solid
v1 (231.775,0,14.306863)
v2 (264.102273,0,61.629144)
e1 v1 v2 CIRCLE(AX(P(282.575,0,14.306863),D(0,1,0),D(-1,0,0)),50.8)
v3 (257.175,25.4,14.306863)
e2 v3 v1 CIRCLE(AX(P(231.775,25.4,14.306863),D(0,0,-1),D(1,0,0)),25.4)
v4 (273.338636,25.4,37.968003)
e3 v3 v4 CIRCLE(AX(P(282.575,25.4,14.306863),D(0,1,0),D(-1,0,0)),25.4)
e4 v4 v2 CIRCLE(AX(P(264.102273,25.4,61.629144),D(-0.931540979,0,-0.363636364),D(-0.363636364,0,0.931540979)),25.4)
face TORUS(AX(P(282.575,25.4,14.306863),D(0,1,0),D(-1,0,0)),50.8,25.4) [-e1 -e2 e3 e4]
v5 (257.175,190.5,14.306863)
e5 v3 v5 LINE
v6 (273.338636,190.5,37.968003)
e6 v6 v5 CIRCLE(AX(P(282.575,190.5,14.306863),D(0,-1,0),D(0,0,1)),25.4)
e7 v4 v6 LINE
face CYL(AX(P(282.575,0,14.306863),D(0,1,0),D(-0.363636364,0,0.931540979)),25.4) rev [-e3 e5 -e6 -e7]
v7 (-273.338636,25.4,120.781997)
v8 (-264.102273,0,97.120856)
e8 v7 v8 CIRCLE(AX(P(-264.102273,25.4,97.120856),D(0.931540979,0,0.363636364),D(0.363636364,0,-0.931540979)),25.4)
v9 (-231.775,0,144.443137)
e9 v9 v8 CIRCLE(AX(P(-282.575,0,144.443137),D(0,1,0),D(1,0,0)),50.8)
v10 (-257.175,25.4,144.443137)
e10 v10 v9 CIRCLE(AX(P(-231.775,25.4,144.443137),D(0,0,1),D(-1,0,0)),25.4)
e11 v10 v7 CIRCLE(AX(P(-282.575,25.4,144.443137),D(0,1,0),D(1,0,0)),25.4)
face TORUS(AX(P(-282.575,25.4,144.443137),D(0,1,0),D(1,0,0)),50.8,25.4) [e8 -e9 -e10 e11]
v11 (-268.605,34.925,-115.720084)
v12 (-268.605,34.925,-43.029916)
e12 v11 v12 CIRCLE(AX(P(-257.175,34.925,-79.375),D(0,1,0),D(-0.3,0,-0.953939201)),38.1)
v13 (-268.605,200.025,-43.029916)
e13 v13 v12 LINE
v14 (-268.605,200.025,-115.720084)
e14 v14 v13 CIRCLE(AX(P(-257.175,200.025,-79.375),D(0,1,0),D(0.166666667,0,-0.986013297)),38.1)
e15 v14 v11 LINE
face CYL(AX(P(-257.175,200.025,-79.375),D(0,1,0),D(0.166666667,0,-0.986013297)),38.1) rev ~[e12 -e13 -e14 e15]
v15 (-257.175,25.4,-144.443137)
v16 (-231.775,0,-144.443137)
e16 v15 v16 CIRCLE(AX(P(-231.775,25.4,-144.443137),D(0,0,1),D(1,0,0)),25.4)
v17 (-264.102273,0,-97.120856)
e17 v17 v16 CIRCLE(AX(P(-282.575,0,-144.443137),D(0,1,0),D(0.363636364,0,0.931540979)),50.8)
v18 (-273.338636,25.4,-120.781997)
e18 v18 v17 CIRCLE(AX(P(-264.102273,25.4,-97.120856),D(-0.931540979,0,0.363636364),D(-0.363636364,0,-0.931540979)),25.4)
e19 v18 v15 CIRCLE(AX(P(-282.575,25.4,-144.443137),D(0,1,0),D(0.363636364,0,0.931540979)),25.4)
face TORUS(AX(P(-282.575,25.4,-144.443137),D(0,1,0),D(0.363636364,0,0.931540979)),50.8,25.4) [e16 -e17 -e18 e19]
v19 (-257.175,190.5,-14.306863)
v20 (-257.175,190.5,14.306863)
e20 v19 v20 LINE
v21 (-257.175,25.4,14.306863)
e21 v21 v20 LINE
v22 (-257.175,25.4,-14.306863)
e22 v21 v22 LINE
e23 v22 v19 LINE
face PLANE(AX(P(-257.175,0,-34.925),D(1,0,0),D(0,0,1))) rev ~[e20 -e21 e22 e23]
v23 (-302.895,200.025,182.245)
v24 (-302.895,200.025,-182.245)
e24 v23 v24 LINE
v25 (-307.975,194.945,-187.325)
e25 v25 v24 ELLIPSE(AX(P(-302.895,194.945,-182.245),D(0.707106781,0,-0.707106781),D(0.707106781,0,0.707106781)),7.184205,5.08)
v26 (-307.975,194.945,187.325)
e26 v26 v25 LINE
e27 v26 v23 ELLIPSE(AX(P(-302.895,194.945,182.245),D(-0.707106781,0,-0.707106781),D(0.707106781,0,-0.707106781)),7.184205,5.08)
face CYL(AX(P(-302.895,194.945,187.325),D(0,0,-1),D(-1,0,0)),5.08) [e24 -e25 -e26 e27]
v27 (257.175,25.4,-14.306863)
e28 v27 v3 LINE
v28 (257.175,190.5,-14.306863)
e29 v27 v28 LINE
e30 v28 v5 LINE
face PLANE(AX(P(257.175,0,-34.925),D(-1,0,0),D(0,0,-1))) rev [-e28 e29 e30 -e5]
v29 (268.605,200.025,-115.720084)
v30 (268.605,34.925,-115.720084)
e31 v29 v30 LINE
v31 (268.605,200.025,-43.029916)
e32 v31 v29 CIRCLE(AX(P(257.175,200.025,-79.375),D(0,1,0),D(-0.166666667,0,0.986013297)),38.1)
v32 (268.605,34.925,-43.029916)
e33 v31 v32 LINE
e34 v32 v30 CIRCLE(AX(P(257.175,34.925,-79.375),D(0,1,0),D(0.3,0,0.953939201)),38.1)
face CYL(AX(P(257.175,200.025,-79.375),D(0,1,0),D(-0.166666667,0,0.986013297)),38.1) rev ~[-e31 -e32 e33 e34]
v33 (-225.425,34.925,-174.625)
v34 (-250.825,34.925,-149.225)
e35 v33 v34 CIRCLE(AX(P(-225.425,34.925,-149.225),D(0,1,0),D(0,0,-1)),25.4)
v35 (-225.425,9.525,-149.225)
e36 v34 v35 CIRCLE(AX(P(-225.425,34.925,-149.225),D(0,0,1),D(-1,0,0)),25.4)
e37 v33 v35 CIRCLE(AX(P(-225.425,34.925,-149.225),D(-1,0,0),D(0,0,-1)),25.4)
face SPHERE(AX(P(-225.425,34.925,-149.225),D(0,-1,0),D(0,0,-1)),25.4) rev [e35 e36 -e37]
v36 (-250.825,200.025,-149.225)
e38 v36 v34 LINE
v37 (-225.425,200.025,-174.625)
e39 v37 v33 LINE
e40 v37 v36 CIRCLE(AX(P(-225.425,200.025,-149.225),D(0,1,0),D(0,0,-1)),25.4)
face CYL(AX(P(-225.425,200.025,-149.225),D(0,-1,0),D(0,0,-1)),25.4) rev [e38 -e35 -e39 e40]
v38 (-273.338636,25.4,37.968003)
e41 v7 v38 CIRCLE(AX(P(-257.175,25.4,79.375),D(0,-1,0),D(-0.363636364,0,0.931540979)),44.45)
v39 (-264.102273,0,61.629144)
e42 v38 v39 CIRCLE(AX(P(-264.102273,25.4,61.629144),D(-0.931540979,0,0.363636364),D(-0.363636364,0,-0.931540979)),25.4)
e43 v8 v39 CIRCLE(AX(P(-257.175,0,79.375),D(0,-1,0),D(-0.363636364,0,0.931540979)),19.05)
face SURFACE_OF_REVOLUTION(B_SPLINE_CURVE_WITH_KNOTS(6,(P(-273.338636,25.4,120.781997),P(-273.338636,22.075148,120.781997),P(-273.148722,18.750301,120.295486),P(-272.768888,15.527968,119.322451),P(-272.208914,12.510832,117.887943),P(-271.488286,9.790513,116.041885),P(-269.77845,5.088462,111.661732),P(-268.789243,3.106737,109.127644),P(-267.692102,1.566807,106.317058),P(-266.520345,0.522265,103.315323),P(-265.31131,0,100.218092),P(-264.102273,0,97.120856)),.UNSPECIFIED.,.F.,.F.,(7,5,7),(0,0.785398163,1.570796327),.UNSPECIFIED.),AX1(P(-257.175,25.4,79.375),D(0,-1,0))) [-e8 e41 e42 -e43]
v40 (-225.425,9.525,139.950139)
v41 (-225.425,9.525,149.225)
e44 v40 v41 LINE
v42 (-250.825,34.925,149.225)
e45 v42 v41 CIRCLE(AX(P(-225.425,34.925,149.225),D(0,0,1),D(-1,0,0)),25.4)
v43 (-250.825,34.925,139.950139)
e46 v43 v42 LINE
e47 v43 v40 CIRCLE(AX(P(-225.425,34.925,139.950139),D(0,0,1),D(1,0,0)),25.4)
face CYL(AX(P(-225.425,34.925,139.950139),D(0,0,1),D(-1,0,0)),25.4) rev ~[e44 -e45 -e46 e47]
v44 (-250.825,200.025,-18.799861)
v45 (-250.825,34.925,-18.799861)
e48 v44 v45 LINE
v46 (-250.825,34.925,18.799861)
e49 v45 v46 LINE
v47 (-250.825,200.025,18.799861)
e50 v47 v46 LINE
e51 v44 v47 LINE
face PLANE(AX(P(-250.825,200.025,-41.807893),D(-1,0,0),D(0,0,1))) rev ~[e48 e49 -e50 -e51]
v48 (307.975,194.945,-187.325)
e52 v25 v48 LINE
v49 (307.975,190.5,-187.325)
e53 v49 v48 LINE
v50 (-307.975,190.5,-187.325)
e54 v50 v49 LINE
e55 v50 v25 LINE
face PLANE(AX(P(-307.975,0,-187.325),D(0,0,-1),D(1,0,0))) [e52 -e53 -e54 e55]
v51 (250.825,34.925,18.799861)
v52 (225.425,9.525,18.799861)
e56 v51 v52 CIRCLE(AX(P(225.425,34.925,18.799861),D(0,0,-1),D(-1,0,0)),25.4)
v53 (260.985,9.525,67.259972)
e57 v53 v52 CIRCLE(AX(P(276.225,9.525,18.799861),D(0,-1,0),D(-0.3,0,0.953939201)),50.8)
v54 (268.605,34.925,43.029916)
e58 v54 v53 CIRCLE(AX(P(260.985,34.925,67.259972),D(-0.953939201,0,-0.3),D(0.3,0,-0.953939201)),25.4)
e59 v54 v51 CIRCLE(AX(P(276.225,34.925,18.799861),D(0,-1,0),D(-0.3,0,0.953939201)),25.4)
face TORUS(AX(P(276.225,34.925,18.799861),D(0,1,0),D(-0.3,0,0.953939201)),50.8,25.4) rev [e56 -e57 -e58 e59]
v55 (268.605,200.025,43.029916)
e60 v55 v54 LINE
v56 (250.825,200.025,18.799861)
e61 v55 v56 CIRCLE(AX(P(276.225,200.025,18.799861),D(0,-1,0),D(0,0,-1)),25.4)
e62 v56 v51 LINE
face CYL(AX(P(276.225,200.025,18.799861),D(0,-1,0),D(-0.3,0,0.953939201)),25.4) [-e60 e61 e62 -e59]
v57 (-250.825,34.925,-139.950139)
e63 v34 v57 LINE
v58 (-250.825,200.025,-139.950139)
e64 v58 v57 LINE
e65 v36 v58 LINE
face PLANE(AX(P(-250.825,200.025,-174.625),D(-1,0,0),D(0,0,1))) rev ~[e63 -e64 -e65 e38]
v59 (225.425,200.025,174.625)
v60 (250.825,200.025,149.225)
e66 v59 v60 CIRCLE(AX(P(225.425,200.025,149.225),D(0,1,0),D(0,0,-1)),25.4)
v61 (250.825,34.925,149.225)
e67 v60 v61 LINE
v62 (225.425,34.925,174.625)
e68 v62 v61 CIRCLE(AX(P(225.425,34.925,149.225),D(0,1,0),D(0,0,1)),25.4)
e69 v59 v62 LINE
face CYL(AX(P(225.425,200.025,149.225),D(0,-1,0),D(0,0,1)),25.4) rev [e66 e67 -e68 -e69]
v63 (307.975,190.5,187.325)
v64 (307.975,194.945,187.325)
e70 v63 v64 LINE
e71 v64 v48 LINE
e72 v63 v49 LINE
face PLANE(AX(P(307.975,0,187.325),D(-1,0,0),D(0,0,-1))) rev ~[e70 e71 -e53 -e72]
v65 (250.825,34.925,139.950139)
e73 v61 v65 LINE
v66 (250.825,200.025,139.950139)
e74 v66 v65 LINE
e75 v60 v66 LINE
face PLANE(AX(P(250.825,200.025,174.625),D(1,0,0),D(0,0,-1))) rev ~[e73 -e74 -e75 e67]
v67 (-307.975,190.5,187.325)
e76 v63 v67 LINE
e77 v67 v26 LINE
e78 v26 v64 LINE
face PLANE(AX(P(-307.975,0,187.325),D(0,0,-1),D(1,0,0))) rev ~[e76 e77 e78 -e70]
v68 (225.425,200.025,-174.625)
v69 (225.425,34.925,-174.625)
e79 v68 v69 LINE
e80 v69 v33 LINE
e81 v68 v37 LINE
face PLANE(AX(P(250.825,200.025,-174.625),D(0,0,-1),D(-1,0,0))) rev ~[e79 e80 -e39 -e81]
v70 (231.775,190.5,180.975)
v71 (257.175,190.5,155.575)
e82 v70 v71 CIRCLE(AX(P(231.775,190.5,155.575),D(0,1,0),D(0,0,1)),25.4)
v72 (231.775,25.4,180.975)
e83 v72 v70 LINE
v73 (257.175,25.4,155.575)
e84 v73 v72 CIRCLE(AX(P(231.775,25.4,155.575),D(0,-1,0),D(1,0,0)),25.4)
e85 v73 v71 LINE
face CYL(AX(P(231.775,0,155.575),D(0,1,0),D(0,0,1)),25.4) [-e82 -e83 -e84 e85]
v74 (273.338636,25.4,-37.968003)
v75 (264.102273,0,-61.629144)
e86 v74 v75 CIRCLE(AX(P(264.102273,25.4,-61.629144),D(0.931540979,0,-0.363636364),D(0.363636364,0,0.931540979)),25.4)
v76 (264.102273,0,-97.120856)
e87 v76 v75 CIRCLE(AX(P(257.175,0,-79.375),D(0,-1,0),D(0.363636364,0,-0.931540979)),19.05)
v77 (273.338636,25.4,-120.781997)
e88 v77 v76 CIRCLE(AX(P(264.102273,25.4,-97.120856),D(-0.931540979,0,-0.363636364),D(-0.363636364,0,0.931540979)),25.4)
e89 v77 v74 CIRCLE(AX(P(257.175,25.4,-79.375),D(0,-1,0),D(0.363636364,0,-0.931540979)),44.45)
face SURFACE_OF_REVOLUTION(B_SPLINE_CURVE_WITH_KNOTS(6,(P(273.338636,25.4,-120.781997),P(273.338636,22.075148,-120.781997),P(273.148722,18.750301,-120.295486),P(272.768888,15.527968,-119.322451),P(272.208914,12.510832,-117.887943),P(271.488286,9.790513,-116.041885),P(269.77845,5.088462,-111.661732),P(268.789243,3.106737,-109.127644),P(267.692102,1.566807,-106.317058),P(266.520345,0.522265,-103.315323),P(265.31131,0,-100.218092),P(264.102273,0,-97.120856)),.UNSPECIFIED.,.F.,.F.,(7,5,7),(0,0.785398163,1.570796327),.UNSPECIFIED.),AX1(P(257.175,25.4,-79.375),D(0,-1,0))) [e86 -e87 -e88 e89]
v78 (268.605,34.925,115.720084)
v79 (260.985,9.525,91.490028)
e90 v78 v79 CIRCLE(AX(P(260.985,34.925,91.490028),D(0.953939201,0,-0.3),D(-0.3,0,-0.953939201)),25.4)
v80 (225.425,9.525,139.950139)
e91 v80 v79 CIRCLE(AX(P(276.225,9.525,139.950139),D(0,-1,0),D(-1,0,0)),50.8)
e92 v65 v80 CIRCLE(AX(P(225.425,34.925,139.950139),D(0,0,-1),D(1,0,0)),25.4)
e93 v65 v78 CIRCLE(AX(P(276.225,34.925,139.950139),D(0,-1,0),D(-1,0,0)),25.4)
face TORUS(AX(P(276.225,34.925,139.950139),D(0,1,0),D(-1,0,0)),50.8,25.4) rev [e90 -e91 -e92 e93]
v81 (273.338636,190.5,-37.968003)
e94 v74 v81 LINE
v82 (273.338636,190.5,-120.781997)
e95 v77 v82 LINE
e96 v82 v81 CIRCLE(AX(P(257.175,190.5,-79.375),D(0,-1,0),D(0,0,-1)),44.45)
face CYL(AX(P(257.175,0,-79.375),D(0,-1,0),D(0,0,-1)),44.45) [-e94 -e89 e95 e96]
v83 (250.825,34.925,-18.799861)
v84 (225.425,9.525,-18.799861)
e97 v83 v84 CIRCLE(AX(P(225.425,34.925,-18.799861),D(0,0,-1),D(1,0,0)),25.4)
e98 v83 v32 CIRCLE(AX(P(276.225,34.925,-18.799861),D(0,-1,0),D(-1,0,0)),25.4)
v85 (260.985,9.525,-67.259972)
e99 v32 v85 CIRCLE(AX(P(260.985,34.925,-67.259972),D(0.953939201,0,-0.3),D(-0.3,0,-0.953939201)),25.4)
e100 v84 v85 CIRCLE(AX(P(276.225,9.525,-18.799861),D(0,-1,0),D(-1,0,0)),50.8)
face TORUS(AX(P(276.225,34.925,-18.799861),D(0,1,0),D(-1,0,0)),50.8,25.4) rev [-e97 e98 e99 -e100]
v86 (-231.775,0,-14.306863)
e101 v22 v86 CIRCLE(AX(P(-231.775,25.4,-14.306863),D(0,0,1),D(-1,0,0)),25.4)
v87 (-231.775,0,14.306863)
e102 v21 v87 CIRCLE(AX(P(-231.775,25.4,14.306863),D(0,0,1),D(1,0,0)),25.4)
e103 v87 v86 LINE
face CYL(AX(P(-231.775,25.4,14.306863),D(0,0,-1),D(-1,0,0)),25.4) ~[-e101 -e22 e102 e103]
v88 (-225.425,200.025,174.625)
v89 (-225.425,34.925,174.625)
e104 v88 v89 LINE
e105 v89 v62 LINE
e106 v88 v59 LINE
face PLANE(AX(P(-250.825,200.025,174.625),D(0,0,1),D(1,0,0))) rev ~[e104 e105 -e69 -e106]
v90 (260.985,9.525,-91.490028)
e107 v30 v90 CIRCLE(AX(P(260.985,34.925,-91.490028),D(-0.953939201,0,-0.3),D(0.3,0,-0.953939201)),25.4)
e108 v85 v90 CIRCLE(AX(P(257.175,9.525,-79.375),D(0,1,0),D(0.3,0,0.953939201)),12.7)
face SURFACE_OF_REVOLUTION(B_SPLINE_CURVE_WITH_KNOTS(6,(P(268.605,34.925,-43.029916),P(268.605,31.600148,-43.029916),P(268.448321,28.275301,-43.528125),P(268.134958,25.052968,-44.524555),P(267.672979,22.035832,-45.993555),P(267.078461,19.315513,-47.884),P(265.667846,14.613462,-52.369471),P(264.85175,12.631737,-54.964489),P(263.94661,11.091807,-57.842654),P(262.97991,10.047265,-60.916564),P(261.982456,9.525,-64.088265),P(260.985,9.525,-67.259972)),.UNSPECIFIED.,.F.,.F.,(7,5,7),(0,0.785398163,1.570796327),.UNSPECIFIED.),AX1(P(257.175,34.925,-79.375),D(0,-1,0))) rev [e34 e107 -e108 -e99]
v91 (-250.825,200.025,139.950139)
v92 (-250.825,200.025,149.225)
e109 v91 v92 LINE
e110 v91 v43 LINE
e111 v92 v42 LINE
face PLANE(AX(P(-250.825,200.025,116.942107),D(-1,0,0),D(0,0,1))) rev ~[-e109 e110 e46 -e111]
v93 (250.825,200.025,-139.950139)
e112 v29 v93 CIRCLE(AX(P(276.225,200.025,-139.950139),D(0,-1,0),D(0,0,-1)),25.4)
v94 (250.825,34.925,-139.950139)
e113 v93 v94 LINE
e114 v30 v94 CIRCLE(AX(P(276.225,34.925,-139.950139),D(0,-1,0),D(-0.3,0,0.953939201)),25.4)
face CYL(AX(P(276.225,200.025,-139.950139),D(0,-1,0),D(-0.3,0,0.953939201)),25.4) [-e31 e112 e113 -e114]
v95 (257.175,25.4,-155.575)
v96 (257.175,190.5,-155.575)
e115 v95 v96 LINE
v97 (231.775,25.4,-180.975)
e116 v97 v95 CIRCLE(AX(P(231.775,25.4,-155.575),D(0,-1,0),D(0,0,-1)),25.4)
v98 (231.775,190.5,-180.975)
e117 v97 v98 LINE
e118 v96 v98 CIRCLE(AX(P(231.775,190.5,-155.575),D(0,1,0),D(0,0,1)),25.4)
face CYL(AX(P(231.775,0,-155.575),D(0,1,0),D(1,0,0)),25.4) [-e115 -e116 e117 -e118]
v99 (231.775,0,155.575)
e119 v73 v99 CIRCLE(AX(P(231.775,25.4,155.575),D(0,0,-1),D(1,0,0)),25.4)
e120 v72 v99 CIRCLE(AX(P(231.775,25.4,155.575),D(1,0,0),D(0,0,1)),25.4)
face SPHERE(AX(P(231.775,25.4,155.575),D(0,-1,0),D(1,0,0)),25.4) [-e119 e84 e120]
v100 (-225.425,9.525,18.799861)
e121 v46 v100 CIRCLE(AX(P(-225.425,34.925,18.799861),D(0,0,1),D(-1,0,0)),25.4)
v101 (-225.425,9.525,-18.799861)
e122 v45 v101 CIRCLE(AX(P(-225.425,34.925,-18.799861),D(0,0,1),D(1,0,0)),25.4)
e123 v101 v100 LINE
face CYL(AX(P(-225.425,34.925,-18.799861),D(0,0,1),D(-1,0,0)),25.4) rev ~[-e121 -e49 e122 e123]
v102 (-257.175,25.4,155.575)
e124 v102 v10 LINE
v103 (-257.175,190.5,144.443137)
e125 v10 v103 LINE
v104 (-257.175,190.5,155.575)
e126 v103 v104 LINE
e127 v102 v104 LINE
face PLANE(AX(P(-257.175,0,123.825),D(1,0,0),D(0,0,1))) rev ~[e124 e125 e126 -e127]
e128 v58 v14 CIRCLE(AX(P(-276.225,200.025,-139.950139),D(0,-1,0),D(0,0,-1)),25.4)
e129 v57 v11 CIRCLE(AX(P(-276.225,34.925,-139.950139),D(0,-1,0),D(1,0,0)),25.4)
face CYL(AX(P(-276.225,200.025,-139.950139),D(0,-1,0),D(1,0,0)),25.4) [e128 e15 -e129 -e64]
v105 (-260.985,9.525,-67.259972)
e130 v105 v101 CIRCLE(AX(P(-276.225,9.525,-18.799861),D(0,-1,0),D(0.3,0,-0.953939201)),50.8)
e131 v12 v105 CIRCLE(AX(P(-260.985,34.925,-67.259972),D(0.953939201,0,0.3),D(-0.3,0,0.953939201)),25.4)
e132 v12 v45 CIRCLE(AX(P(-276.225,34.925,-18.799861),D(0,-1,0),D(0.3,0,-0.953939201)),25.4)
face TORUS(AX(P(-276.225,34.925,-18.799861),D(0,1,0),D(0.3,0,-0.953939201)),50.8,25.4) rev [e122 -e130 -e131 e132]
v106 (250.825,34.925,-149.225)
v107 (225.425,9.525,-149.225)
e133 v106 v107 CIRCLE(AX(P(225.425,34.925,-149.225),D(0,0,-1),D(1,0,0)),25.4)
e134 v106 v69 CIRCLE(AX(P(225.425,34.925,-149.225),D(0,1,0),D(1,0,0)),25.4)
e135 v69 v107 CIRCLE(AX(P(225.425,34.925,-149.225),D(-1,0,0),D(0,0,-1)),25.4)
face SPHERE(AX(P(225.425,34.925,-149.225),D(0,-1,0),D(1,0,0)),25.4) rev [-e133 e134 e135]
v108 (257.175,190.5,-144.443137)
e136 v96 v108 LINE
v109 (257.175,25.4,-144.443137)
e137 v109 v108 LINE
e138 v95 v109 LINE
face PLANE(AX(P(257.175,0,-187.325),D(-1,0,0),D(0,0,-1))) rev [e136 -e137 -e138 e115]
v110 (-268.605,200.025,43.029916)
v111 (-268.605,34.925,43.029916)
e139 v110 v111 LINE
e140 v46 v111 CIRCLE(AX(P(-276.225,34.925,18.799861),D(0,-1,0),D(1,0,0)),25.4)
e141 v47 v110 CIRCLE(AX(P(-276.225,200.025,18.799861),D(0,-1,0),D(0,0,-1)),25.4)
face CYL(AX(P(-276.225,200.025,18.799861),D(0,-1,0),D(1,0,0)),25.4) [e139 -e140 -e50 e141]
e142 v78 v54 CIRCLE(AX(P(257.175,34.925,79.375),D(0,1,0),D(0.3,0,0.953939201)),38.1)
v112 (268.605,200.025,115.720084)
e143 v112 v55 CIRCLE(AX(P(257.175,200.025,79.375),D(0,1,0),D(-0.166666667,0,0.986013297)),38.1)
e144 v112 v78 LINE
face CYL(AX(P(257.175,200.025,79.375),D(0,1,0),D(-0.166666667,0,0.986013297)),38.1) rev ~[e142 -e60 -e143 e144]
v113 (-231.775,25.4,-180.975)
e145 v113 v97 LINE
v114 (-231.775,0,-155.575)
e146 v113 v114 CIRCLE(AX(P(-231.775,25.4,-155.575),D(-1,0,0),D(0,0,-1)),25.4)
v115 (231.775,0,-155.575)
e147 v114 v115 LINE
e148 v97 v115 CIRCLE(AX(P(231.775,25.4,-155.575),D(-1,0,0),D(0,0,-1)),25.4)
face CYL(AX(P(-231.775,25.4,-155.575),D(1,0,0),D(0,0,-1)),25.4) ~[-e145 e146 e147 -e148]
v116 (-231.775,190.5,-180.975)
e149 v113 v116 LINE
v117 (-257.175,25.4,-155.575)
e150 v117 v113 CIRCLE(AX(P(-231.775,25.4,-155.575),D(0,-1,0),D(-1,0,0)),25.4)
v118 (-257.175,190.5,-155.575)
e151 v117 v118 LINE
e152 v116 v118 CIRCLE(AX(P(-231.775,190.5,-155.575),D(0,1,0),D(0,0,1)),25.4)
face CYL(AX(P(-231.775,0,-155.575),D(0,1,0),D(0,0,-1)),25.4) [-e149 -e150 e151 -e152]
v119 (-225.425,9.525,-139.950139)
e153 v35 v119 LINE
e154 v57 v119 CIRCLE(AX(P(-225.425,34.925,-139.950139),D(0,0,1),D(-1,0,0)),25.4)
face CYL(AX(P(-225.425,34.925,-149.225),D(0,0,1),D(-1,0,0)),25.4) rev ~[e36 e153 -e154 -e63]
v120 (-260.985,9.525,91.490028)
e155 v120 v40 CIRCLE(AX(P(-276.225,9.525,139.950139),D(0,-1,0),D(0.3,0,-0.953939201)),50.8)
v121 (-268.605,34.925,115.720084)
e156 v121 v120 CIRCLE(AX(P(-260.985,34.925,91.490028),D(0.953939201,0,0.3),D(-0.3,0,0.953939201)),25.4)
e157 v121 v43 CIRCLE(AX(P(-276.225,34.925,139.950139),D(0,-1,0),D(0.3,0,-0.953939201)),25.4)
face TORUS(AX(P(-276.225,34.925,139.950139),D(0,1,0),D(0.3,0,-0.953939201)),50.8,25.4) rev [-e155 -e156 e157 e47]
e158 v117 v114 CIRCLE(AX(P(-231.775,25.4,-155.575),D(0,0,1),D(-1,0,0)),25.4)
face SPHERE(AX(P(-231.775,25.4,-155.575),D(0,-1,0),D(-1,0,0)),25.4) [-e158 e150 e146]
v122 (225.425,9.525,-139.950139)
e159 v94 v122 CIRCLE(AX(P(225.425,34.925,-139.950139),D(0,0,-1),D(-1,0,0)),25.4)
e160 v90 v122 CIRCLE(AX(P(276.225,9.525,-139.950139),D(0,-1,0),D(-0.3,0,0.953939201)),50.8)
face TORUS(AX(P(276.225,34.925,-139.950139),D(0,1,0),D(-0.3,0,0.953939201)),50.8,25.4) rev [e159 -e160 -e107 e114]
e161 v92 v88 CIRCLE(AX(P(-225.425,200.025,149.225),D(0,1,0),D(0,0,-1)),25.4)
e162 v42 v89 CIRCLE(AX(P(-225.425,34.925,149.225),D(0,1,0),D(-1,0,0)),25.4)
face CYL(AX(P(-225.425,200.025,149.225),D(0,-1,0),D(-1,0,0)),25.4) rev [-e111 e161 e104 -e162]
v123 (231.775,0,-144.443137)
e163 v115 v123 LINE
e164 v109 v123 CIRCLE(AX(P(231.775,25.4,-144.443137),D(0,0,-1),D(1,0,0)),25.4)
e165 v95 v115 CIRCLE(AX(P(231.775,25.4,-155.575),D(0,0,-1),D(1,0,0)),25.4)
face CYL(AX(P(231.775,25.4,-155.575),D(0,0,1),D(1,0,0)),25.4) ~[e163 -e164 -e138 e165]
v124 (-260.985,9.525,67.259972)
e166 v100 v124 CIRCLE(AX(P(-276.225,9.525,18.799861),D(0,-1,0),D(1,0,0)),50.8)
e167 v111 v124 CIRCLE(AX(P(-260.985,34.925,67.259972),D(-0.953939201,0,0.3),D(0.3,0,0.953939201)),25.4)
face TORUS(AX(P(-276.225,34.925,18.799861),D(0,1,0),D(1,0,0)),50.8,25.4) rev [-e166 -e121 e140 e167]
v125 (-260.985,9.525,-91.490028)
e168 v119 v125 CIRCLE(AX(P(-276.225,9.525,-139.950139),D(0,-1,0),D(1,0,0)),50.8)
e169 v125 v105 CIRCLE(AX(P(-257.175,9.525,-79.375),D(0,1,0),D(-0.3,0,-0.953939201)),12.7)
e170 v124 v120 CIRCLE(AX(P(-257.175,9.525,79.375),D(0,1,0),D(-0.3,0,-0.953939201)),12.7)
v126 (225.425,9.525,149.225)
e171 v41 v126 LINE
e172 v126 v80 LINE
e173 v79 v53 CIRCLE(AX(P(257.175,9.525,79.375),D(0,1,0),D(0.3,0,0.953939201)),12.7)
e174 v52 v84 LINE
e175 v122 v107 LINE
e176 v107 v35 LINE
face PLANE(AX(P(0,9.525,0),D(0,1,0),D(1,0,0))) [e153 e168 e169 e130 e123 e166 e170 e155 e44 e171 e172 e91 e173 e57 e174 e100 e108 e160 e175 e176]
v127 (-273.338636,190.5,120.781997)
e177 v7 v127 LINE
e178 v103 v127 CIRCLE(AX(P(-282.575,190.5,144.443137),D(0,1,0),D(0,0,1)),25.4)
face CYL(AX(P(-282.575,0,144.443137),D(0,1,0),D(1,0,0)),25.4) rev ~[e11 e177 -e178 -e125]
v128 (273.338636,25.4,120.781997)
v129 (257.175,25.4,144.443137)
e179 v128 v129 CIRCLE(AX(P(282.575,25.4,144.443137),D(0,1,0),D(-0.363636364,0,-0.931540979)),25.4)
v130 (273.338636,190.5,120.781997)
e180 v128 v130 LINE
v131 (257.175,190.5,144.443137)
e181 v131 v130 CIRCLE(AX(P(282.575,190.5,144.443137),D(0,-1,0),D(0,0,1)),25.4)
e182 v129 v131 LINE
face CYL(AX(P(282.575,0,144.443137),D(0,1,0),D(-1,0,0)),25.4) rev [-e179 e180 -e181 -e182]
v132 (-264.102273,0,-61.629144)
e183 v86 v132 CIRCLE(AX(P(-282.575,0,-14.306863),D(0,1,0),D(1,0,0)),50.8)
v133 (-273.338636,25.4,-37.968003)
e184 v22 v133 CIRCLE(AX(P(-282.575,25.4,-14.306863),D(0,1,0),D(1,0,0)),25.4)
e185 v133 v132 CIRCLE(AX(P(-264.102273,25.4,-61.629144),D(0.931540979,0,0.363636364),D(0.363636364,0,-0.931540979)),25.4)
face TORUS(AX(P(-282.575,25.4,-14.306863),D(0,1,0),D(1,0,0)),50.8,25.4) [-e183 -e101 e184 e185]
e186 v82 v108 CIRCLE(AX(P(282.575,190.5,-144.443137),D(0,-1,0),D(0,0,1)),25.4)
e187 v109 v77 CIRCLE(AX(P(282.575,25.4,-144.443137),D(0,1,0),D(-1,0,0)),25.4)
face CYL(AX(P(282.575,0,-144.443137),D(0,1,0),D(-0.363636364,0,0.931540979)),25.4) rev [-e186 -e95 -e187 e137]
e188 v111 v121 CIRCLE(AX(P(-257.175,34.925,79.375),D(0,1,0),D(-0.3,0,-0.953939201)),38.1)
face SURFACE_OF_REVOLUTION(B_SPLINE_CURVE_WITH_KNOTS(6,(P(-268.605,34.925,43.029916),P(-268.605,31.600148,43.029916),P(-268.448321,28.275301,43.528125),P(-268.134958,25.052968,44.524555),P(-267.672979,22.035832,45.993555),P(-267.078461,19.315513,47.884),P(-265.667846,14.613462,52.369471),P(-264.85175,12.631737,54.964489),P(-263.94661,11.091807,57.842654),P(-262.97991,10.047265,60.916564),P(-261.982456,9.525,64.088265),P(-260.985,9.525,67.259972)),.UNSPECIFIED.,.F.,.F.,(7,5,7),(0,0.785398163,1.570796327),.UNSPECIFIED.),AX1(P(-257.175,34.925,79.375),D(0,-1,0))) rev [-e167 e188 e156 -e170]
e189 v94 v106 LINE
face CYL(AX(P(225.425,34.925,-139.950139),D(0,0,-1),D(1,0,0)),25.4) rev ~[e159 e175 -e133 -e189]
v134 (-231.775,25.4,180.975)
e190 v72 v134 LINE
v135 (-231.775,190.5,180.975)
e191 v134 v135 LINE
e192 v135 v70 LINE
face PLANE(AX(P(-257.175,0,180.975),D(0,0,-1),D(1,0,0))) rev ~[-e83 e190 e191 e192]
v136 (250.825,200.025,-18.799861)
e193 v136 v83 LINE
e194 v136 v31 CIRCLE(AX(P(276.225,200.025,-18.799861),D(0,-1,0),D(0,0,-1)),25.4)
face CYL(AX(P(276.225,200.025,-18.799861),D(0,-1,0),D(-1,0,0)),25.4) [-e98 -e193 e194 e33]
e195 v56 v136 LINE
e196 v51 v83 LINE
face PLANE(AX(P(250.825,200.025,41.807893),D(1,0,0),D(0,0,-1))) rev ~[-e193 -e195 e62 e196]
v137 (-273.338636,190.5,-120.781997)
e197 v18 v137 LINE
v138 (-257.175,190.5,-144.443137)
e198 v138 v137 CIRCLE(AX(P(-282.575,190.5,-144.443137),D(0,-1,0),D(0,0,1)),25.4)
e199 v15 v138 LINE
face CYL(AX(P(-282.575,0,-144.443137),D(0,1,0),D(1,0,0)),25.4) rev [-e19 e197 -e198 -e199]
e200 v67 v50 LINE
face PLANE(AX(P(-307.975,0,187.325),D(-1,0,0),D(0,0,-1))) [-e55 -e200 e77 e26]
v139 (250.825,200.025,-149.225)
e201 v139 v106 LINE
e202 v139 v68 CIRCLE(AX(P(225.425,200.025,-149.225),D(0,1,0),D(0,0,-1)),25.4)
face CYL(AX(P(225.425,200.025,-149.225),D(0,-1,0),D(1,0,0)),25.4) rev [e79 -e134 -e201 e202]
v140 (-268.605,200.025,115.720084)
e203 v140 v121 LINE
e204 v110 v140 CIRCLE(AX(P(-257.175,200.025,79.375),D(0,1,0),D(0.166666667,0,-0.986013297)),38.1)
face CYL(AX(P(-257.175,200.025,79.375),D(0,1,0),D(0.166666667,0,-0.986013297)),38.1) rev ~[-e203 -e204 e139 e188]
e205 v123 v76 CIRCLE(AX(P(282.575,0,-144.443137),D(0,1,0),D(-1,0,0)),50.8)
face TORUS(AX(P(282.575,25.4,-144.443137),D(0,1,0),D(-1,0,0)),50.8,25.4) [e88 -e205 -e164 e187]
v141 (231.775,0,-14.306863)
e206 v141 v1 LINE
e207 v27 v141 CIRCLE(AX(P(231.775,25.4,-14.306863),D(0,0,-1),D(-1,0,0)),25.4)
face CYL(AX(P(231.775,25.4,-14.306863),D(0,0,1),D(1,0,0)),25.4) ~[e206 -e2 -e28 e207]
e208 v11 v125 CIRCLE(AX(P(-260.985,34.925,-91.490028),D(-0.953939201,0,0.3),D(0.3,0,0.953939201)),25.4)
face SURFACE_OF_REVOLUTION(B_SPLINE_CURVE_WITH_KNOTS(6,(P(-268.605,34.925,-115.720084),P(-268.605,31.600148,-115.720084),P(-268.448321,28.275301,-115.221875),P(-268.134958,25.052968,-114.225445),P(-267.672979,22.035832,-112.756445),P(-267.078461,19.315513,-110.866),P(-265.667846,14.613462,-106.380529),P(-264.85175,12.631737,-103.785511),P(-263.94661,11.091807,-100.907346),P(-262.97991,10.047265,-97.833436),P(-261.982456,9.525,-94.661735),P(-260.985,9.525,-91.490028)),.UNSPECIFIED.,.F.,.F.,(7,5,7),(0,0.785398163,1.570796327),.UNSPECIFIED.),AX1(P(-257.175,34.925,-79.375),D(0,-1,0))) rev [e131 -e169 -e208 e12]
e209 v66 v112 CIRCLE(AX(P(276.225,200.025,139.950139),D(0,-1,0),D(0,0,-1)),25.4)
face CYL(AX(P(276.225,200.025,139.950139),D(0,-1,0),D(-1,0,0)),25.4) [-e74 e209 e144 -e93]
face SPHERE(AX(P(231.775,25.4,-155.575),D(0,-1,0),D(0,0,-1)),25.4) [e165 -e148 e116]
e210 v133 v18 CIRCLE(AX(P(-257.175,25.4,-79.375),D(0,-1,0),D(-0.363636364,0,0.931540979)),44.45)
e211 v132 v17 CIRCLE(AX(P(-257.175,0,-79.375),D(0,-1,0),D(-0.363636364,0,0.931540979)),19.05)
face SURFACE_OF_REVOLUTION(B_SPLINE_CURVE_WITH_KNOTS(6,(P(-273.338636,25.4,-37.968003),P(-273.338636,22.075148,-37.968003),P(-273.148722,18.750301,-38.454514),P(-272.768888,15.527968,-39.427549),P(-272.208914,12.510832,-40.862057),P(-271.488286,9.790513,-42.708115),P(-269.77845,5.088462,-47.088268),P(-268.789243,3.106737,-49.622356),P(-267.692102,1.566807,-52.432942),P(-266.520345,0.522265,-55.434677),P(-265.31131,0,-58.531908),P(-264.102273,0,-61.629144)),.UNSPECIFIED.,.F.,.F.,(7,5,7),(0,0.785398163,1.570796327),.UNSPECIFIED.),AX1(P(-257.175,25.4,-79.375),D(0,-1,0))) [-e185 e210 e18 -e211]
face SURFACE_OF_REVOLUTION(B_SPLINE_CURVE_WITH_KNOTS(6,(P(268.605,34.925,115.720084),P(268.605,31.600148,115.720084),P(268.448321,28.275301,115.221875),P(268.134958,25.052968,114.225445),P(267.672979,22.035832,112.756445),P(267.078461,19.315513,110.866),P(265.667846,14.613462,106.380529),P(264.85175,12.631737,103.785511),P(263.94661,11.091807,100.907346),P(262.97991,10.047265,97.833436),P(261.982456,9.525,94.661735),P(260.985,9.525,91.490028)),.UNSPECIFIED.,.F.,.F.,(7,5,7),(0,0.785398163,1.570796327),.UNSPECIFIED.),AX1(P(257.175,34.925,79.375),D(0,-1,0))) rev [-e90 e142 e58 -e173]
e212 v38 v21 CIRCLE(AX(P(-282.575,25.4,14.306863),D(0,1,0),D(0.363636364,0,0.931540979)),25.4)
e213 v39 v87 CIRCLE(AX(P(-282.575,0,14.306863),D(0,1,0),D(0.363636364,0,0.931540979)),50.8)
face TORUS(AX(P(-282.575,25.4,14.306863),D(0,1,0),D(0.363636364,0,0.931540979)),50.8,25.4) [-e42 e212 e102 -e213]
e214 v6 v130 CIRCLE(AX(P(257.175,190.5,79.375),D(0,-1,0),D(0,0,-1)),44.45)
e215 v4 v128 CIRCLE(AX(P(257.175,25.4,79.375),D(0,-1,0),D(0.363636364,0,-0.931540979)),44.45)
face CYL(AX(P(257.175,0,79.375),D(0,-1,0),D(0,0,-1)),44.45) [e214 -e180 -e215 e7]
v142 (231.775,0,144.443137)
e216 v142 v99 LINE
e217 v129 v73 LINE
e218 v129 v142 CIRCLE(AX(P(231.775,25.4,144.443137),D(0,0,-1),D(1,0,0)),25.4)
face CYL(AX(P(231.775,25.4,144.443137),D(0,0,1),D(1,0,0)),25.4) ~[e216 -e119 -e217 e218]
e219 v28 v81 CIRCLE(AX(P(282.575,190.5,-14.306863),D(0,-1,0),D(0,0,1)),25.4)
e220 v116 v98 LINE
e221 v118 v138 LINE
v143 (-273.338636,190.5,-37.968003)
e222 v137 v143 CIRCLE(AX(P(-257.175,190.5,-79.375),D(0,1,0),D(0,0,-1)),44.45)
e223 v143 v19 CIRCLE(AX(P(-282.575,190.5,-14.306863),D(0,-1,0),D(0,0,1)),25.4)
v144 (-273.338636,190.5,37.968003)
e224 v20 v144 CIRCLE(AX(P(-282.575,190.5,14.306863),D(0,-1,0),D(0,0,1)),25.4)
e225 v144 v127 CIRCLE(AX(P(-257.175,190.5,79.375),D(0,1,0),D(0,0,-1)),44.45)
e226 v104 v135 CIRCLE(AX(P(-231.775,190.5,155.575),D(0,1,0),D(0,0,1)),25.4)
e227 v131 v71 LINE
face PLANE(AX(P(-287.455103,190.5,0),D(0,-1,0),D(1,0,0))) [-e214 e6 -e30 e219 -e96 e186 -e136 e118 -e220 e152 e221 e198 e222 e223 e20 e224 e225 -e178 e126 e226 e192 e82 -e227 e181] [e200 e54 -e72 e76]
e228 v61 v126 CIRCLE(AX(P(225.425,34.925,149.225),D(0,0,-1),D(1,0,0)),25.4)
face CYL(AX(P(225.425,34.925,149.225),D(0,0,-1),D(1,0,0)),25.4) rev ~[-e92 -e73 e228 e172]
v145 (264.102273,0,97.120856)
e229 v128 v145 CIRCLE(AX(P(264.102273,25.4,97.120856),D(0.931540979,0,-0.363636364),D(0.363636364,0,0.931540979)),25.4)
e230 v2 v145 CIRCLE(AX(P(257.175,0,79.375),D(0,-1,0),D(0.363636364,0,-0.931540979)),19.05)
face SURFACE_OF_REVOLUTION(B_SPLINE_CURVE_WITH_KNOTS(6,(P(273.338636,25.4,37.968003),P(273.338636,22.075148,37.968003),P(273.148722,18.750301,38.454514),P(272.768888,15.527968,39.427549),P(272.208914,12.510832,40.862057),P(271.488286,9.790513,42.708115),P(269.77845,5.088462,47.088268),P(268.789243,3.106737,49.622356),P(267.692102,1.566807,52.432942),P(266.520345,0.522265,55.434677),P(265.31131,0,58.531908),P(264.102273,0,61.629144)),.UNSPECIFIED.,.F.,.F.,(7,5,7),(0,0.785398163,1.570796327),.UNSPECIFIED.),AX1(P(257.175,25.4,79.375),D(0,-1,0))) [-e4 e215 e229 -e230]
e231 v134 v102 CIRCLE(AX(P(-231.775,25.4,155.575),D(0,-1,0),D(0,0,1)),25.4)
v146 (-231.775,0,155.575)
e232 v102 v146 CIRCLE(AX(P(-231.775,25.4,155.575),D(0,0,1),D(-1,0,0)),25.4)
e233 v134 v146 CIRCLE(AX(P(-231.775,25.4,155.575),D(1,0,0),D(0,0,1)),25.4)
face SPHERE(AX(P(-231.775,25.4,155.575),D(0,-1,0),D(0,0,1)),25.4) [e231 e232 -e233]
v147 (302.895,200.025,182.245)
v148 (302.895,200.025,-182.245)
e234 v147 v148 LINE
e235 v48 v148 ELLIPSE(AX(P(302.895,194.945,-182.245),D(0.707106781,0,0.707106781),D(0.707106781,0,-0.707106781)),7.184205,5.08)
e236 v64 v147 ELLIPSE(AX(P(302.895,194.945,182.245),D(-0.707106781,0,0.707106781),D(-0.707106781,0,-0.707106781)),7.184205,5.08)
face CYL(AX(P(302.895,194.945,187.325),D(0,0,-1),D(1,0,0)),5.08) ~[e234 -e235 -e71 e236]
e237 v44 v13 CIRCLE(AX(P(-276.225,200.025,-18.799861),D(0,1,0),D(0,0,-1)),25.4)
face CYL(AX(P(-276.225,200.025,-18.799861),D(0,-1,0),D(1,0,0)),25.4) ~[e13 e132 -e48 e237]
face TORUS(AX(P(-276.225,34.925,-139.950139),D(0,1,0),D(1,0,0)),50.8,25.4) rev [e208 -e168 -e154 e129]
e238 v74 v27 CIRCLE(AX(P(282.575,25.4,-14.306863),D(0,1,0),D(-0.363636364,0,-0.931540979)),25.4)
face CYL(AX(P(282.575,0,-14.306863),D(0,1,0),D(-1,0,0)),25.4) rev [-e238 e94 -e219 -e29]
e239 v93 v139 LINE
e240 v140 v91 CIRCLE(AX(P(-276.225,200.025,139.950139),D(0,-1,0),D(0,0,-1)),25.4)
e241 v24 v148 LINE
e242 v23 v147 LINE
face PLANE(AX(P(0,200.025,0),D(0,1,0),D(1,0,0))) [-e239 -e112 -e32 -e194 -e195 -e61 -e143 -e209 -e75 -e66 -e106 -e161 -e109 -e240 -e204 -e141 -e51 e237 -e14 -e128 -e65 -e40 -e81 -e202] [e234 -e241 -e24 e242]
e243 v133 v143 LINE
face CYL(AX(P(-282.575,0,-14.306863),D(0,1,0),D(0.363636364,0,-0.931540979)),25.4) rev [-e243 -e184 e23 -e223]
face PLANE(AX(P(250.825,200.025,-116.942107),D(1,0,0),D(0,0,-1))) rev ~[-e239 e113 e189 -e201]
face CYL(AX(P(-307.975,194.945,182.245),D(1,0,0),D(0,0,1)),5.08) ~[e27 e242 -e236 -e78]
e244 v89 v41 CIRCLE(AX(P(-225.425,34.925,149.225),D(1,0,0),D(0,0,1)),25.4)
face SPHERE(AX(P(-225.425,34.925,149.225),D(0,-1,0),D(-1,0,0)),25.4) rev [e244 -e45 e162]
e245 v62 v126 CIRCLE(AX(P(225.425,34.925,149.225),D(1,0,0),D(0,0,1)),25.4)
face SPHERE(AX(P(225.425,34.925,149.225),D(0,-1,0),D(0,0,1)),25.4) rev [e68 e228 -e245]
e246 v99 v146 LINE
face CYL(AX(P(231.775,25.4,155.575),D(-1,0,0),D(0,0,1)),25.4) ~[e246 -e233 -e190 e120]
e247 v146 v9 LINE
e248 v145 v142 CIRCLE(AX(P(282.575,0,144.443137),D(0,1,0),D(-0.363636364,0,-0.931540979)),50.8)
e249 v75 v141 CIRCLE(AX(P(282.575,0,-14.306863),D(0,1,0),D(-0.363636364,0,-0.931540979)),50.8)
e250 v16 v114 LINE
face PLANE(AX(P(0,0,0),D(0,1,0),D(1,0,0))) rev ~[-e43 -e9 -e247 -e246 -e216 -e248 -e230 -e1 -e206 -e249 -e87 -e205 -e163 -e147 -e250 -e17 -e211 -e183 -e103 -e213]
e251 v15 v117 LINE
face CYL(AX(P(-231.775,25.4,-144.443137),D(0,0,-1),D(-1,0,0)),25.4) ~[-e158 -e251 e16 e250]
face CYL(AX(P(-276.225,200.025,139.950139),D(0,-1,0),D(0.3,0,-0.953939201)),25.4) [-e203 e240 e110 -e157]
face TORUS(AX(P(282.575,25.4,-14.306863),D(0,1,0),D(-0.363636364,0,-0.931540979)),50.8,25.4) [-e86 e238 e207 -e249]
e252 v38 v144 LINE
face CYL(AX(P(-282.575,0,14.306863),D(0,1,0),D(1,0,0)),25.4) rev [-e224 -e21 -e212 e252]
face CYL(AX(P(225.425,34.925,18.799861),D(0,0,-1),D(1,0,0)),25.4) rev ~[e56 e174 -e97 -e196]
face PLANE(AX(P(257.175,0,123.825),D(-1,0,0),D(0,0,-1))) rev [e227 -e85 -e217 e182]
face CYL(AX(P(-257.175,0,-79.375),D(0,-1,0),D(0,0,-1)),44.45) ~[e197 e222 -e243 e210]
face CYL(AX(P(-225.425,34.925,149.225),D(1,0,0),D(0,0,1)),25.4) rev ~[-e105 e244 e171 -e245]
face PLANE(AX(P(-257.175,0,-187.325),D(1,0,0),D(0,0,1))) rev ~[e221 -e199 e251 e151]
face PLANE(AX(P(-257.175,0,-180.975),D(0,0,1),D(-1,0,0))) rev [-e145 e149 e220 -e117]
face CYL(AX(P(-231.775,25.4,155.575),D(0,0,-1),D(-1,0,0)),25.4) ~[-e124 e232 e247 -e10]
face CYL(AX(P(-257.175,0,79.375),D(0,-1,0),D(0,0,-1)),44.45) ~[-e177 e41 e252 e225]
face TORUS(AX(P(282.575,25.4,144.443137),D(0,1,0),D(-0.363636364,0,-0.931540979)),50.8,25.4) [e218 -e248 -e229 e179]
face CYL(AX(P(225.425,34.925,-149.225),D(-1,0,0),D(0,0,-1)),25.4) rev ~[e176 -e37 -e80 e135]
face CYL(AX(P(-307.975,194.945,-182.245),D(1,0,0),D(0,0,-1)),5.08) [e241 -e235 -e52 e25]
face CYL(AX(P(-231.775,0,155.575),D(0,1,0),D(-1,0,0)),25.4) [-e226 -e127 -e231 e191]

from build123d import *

# Parameters (mm, degrees)
SKETCH1_W           = 615.95
SKETCH1_H           = 374.65
BOSS_EXTRUDE1_DEPTH = 200.025
CUT_EXTRUDE1_DEPTH  = 190.5
SKETCH3_W           = 514.35
SKETCH3_H           = 6.35
CUT_EXTRUDE2_DEPTH  = 190.5
CUT_EXTRUDE3_DEPTH  = 190.5
FILLET1_R           = 25.4
FILLET2_R           = 25.4
FILLET3_R           = 25.4
FILLET4_R           = 25.4
FILLET5_R           = 5.08


with BuildPart() as part:
    # Sketch1 → Boss-Extrude1 (new body)
    with BuildSketch(Plane(origin=(0, 0, 0), x_dir=(1, 0, 0), z_dir=(0, 1, 0))):
        Rectangle(SKETCH1_W, SKETCH1_H)
    extrude(amount=BOSS_EXTRUDE1_DEPTH)

    # Sketch2 → Cut-Extrude1 (cut)
    with BuildSketch(Plane.XZ):
        with BuildLine():
            Line((-257.175, 123.825), (-257.175, 187.325))
            Line((-257.175, 187.325), (-307.975, 187.325))
            Line((-307.975, 187.325), (-307.975, -187.325))
            Line((-307.975, -187.325), (-257.175, -187.325))
            Line((-257.175, -187.325), (-257.175, -174.625))
            Line((-257.175, -174.625), (-257.175, -123.825))
            ThreePointArc((-257.175, -123.825), (-301.625, -79.375), (-257.175, -34.925))
            Line((-257.175, -34.925), (-257.175, 34.925))
            ThreePointArc((-257.175, 34.925), (-301.625, 79.375), (-257.175, 123.825))
        make_face()
    cut_extrude1 = extrude(amount=-CUT_EXTRUDE1_DEPTH, mode=Mode.SUBTRACT)

    # Mirror1: Cut-Extrude1 across plane
    add(cut_extrude1.mirror(Plane(origin=(0, 0, 0), x_dir=(0, 0, 1), z_dir=(1, 0, 0))), mode=Mode.SUBTRACT)

    # Sketch3 → Cut-Extrude2 (cut)
    with BuildSketch(Plane.XZ):
        with Locations((0, 184.15)):
            Rectangle(SKETCH3_W, SKETCH3_H)
    cut_extrude2 = extrude(amount=-CUT_EXTRUDE2_DEPTH, mode=Mode.SUBTRACT)

    # Mirror2: Cut-Extrude2 across plane
    add(cut_extrude2.mirror(Plane.XY), mode=Mode.SUBTRACT)

    # Sketch5 → Cut-Extrude3 (cut)
    with BuildSketch(Plane(origin=(0, 200.025, 0), x_dir=(1, 0, 0), z_dir=(0, 1, 0))):
        with BuildLine():
            Line((-250.825, 41.807893377), (-250.825, -41.807893377))
            ThreePointArc((-250.825, -41.807893377), (-295.275, -79.375), (-250.825, -116.942106623))
            Line((-250.825, -116.942106623), (-250.825, -174.625))
            Line((-250.825, -174.625), (250.825, -174.625))
            Line((250.825, -174.625), (250.825, -116.942106623))
            ThreePointArc((250.825, -116.942106623), (295.275, -79.375), (250.825, -41.807893377))
            Line((250.825, -41.807893377), (250.825, 41.807893377))
            ThreePointArc((250.825, 41.807893377), (295.275, 79.375), (250.825, 116.942106623))
            Line((250.825, 116.942106623), (250.825, 174.625))
            Line((250.825, 174.625), (-250.825, 174.625))
            Line((-250.825, 174.625), (-250.825, 116.942106623))
            ThreePointArc((-250.825, 116.942106623), (-295.275, 79.375), (-250.825, 41.807893377))
        make_face()
    extrude(amount=-CUT_EXTRUDE3_DEPTH, mode=Mode.SUBTRACT)

    # Fillet1
    fillet1_edges = [part.edges().sort_by_distance(p)[0] for p in [
        (-257.175, 95.25, -123.825),
        (-257.175, 95.25, 123.825),
        (-257.175, 95.25, 34.925),
        (-257.175, 95.25, -34.925),
        (257.175, 95.25, -123.825),
        (257.175, 95.25, -34.925),
        (257.175, 95.25, 34.925),
        (257.175, 95.25, 123.825),
        (-257.175, 95.25, 180.975),
        (257.175, 95.25, 180.975),
        (-257.175, 95.25, -180.975),
        (257.175, 95.25, -180.975),
    ]]
    fillet(fillet1_edges, radius=FILLET1_R)

    # Fillet2
    fillet2_edges = [part.edges().sort_by_distance(p)[0] for p in [
        (250.825, 104.775, 174.625),
        (-250.825, 104.775, 174.625),
        (-250.825, 104.775, 116.942106623),
        (-250.825, 104.775, 41.807893377),
        (-250.825, 104.775, -41.807893377),
        (-250.825, 104.775, -116.942106623),
        (-250.825, 104.775, -174.625),
        (250.825, 104.775, -174.625),
        (250.825, 104.775, -116.942106623),
        (250.825, 104.775, -41.807893377),
        (250.825, 104.775, 41.807893377),
        (250.825, 104.775, 116.942106623),
    ]]
    fillet(fillet2_edges, radius=FILLET2_R)

    # Fillet3
    fillet3_edges = [part.edges().sort_by_distance(p)[0] for p in [
        (0, 9.525, -174.625),
        (250.825, 9.525, -144.587569645),
        (-295.275, 9.525, -79.375),
        (-250.825, 9.525, 0),
        (-295.275, 9.525, 79.375),
        (-250.825, 9.525, 144.587569645),
        (0, 9.525, 174.625),
        (250.825, 9.525, 144.587569645),
        (295.275, 9.525, 79.375),
        (250.825, 9.525, 0),
        (295.275, 9.525, -79.375),
        (-250.825, 9.525, -144.587569645),
        (243.385512242, 9.525, 167.185512242),
        (-243.385512242, 9.525, 167.185512242),
        (-243.385512242, 9.525, -167.185512242),
        (243.385512242, 9.525, -167.185512242),
        (-255.746865319, 9.525, -124.923296641),
        (-255.746865319, 9.525, -33.826703359),
        (-255.746865319, 9.525, 33.826703359),
        (-255.746865319, 9.525, 124.923296641),
        (255.746865319, 9.525, -124.923296641),
        (255.746865319, 9.525, -33.826703359),
        (255.746865319, 9.525, 33.826703359),
        (255.746865319, 9.525, 124.923296641),
    ]]
    fillet(fillet3_edges, radius=FILLET3_R)

    # Fillet4
    fillet4_edges = [part.edges().sort_by_distance(p)[0] for p in [
        (257.175, 0, 150.009068682),
        (0, 0, -180.975),
        (257.175, 0, -150.009068682),
        (301.625, 0, -79.375),
        (257.175, 0, 0),
        (301.625, 0, 79.375),
        (0, 0, 180.975),
        (-257.175, 0, 150.009068682),
        (-301.625, 0, 79.375),
        (-257.175, 0, 0),
        (-301.625, 0, -79.375),
        (-257.175, 0, -150.009068682),
        (-249.735512242, 0, 173.535512242),
        (-249.735512242, 0, -173.535512242),
        (249.735512242, 0, -173.535512242),
        (249.735512242, 0, 173.535512242),
        (261.601640274, 0, 130.115605063),
        (261.601640274, 0, 28.634394937),
        (261.601640274, 0, -28.634394937),
        (261.601640274, 0, -130.115605063),
        (-261.601640274, 0, -130.115605063),
        (-261.601640274, 0, 28.634394937),
        (-261.601640274, 0, -28.634394937),
        (-261.601640274, 0, 130.115605063),
    ]]
    fillet(fillet4_edges, radius=FILLET4_R)

    # Fillet5
    fillet5_edges = [part.edges().sort_by_distance(p)[0] for p in [
        (307.975, 200.025, 0),
        (0, 200.025, -187.325),
        (-307.975, 200.025, 0),
        (0, 200.025, 187.325),
    ]]
    fillet(fillet5_edges, radius=FILLET5_R)


solid = part.part
